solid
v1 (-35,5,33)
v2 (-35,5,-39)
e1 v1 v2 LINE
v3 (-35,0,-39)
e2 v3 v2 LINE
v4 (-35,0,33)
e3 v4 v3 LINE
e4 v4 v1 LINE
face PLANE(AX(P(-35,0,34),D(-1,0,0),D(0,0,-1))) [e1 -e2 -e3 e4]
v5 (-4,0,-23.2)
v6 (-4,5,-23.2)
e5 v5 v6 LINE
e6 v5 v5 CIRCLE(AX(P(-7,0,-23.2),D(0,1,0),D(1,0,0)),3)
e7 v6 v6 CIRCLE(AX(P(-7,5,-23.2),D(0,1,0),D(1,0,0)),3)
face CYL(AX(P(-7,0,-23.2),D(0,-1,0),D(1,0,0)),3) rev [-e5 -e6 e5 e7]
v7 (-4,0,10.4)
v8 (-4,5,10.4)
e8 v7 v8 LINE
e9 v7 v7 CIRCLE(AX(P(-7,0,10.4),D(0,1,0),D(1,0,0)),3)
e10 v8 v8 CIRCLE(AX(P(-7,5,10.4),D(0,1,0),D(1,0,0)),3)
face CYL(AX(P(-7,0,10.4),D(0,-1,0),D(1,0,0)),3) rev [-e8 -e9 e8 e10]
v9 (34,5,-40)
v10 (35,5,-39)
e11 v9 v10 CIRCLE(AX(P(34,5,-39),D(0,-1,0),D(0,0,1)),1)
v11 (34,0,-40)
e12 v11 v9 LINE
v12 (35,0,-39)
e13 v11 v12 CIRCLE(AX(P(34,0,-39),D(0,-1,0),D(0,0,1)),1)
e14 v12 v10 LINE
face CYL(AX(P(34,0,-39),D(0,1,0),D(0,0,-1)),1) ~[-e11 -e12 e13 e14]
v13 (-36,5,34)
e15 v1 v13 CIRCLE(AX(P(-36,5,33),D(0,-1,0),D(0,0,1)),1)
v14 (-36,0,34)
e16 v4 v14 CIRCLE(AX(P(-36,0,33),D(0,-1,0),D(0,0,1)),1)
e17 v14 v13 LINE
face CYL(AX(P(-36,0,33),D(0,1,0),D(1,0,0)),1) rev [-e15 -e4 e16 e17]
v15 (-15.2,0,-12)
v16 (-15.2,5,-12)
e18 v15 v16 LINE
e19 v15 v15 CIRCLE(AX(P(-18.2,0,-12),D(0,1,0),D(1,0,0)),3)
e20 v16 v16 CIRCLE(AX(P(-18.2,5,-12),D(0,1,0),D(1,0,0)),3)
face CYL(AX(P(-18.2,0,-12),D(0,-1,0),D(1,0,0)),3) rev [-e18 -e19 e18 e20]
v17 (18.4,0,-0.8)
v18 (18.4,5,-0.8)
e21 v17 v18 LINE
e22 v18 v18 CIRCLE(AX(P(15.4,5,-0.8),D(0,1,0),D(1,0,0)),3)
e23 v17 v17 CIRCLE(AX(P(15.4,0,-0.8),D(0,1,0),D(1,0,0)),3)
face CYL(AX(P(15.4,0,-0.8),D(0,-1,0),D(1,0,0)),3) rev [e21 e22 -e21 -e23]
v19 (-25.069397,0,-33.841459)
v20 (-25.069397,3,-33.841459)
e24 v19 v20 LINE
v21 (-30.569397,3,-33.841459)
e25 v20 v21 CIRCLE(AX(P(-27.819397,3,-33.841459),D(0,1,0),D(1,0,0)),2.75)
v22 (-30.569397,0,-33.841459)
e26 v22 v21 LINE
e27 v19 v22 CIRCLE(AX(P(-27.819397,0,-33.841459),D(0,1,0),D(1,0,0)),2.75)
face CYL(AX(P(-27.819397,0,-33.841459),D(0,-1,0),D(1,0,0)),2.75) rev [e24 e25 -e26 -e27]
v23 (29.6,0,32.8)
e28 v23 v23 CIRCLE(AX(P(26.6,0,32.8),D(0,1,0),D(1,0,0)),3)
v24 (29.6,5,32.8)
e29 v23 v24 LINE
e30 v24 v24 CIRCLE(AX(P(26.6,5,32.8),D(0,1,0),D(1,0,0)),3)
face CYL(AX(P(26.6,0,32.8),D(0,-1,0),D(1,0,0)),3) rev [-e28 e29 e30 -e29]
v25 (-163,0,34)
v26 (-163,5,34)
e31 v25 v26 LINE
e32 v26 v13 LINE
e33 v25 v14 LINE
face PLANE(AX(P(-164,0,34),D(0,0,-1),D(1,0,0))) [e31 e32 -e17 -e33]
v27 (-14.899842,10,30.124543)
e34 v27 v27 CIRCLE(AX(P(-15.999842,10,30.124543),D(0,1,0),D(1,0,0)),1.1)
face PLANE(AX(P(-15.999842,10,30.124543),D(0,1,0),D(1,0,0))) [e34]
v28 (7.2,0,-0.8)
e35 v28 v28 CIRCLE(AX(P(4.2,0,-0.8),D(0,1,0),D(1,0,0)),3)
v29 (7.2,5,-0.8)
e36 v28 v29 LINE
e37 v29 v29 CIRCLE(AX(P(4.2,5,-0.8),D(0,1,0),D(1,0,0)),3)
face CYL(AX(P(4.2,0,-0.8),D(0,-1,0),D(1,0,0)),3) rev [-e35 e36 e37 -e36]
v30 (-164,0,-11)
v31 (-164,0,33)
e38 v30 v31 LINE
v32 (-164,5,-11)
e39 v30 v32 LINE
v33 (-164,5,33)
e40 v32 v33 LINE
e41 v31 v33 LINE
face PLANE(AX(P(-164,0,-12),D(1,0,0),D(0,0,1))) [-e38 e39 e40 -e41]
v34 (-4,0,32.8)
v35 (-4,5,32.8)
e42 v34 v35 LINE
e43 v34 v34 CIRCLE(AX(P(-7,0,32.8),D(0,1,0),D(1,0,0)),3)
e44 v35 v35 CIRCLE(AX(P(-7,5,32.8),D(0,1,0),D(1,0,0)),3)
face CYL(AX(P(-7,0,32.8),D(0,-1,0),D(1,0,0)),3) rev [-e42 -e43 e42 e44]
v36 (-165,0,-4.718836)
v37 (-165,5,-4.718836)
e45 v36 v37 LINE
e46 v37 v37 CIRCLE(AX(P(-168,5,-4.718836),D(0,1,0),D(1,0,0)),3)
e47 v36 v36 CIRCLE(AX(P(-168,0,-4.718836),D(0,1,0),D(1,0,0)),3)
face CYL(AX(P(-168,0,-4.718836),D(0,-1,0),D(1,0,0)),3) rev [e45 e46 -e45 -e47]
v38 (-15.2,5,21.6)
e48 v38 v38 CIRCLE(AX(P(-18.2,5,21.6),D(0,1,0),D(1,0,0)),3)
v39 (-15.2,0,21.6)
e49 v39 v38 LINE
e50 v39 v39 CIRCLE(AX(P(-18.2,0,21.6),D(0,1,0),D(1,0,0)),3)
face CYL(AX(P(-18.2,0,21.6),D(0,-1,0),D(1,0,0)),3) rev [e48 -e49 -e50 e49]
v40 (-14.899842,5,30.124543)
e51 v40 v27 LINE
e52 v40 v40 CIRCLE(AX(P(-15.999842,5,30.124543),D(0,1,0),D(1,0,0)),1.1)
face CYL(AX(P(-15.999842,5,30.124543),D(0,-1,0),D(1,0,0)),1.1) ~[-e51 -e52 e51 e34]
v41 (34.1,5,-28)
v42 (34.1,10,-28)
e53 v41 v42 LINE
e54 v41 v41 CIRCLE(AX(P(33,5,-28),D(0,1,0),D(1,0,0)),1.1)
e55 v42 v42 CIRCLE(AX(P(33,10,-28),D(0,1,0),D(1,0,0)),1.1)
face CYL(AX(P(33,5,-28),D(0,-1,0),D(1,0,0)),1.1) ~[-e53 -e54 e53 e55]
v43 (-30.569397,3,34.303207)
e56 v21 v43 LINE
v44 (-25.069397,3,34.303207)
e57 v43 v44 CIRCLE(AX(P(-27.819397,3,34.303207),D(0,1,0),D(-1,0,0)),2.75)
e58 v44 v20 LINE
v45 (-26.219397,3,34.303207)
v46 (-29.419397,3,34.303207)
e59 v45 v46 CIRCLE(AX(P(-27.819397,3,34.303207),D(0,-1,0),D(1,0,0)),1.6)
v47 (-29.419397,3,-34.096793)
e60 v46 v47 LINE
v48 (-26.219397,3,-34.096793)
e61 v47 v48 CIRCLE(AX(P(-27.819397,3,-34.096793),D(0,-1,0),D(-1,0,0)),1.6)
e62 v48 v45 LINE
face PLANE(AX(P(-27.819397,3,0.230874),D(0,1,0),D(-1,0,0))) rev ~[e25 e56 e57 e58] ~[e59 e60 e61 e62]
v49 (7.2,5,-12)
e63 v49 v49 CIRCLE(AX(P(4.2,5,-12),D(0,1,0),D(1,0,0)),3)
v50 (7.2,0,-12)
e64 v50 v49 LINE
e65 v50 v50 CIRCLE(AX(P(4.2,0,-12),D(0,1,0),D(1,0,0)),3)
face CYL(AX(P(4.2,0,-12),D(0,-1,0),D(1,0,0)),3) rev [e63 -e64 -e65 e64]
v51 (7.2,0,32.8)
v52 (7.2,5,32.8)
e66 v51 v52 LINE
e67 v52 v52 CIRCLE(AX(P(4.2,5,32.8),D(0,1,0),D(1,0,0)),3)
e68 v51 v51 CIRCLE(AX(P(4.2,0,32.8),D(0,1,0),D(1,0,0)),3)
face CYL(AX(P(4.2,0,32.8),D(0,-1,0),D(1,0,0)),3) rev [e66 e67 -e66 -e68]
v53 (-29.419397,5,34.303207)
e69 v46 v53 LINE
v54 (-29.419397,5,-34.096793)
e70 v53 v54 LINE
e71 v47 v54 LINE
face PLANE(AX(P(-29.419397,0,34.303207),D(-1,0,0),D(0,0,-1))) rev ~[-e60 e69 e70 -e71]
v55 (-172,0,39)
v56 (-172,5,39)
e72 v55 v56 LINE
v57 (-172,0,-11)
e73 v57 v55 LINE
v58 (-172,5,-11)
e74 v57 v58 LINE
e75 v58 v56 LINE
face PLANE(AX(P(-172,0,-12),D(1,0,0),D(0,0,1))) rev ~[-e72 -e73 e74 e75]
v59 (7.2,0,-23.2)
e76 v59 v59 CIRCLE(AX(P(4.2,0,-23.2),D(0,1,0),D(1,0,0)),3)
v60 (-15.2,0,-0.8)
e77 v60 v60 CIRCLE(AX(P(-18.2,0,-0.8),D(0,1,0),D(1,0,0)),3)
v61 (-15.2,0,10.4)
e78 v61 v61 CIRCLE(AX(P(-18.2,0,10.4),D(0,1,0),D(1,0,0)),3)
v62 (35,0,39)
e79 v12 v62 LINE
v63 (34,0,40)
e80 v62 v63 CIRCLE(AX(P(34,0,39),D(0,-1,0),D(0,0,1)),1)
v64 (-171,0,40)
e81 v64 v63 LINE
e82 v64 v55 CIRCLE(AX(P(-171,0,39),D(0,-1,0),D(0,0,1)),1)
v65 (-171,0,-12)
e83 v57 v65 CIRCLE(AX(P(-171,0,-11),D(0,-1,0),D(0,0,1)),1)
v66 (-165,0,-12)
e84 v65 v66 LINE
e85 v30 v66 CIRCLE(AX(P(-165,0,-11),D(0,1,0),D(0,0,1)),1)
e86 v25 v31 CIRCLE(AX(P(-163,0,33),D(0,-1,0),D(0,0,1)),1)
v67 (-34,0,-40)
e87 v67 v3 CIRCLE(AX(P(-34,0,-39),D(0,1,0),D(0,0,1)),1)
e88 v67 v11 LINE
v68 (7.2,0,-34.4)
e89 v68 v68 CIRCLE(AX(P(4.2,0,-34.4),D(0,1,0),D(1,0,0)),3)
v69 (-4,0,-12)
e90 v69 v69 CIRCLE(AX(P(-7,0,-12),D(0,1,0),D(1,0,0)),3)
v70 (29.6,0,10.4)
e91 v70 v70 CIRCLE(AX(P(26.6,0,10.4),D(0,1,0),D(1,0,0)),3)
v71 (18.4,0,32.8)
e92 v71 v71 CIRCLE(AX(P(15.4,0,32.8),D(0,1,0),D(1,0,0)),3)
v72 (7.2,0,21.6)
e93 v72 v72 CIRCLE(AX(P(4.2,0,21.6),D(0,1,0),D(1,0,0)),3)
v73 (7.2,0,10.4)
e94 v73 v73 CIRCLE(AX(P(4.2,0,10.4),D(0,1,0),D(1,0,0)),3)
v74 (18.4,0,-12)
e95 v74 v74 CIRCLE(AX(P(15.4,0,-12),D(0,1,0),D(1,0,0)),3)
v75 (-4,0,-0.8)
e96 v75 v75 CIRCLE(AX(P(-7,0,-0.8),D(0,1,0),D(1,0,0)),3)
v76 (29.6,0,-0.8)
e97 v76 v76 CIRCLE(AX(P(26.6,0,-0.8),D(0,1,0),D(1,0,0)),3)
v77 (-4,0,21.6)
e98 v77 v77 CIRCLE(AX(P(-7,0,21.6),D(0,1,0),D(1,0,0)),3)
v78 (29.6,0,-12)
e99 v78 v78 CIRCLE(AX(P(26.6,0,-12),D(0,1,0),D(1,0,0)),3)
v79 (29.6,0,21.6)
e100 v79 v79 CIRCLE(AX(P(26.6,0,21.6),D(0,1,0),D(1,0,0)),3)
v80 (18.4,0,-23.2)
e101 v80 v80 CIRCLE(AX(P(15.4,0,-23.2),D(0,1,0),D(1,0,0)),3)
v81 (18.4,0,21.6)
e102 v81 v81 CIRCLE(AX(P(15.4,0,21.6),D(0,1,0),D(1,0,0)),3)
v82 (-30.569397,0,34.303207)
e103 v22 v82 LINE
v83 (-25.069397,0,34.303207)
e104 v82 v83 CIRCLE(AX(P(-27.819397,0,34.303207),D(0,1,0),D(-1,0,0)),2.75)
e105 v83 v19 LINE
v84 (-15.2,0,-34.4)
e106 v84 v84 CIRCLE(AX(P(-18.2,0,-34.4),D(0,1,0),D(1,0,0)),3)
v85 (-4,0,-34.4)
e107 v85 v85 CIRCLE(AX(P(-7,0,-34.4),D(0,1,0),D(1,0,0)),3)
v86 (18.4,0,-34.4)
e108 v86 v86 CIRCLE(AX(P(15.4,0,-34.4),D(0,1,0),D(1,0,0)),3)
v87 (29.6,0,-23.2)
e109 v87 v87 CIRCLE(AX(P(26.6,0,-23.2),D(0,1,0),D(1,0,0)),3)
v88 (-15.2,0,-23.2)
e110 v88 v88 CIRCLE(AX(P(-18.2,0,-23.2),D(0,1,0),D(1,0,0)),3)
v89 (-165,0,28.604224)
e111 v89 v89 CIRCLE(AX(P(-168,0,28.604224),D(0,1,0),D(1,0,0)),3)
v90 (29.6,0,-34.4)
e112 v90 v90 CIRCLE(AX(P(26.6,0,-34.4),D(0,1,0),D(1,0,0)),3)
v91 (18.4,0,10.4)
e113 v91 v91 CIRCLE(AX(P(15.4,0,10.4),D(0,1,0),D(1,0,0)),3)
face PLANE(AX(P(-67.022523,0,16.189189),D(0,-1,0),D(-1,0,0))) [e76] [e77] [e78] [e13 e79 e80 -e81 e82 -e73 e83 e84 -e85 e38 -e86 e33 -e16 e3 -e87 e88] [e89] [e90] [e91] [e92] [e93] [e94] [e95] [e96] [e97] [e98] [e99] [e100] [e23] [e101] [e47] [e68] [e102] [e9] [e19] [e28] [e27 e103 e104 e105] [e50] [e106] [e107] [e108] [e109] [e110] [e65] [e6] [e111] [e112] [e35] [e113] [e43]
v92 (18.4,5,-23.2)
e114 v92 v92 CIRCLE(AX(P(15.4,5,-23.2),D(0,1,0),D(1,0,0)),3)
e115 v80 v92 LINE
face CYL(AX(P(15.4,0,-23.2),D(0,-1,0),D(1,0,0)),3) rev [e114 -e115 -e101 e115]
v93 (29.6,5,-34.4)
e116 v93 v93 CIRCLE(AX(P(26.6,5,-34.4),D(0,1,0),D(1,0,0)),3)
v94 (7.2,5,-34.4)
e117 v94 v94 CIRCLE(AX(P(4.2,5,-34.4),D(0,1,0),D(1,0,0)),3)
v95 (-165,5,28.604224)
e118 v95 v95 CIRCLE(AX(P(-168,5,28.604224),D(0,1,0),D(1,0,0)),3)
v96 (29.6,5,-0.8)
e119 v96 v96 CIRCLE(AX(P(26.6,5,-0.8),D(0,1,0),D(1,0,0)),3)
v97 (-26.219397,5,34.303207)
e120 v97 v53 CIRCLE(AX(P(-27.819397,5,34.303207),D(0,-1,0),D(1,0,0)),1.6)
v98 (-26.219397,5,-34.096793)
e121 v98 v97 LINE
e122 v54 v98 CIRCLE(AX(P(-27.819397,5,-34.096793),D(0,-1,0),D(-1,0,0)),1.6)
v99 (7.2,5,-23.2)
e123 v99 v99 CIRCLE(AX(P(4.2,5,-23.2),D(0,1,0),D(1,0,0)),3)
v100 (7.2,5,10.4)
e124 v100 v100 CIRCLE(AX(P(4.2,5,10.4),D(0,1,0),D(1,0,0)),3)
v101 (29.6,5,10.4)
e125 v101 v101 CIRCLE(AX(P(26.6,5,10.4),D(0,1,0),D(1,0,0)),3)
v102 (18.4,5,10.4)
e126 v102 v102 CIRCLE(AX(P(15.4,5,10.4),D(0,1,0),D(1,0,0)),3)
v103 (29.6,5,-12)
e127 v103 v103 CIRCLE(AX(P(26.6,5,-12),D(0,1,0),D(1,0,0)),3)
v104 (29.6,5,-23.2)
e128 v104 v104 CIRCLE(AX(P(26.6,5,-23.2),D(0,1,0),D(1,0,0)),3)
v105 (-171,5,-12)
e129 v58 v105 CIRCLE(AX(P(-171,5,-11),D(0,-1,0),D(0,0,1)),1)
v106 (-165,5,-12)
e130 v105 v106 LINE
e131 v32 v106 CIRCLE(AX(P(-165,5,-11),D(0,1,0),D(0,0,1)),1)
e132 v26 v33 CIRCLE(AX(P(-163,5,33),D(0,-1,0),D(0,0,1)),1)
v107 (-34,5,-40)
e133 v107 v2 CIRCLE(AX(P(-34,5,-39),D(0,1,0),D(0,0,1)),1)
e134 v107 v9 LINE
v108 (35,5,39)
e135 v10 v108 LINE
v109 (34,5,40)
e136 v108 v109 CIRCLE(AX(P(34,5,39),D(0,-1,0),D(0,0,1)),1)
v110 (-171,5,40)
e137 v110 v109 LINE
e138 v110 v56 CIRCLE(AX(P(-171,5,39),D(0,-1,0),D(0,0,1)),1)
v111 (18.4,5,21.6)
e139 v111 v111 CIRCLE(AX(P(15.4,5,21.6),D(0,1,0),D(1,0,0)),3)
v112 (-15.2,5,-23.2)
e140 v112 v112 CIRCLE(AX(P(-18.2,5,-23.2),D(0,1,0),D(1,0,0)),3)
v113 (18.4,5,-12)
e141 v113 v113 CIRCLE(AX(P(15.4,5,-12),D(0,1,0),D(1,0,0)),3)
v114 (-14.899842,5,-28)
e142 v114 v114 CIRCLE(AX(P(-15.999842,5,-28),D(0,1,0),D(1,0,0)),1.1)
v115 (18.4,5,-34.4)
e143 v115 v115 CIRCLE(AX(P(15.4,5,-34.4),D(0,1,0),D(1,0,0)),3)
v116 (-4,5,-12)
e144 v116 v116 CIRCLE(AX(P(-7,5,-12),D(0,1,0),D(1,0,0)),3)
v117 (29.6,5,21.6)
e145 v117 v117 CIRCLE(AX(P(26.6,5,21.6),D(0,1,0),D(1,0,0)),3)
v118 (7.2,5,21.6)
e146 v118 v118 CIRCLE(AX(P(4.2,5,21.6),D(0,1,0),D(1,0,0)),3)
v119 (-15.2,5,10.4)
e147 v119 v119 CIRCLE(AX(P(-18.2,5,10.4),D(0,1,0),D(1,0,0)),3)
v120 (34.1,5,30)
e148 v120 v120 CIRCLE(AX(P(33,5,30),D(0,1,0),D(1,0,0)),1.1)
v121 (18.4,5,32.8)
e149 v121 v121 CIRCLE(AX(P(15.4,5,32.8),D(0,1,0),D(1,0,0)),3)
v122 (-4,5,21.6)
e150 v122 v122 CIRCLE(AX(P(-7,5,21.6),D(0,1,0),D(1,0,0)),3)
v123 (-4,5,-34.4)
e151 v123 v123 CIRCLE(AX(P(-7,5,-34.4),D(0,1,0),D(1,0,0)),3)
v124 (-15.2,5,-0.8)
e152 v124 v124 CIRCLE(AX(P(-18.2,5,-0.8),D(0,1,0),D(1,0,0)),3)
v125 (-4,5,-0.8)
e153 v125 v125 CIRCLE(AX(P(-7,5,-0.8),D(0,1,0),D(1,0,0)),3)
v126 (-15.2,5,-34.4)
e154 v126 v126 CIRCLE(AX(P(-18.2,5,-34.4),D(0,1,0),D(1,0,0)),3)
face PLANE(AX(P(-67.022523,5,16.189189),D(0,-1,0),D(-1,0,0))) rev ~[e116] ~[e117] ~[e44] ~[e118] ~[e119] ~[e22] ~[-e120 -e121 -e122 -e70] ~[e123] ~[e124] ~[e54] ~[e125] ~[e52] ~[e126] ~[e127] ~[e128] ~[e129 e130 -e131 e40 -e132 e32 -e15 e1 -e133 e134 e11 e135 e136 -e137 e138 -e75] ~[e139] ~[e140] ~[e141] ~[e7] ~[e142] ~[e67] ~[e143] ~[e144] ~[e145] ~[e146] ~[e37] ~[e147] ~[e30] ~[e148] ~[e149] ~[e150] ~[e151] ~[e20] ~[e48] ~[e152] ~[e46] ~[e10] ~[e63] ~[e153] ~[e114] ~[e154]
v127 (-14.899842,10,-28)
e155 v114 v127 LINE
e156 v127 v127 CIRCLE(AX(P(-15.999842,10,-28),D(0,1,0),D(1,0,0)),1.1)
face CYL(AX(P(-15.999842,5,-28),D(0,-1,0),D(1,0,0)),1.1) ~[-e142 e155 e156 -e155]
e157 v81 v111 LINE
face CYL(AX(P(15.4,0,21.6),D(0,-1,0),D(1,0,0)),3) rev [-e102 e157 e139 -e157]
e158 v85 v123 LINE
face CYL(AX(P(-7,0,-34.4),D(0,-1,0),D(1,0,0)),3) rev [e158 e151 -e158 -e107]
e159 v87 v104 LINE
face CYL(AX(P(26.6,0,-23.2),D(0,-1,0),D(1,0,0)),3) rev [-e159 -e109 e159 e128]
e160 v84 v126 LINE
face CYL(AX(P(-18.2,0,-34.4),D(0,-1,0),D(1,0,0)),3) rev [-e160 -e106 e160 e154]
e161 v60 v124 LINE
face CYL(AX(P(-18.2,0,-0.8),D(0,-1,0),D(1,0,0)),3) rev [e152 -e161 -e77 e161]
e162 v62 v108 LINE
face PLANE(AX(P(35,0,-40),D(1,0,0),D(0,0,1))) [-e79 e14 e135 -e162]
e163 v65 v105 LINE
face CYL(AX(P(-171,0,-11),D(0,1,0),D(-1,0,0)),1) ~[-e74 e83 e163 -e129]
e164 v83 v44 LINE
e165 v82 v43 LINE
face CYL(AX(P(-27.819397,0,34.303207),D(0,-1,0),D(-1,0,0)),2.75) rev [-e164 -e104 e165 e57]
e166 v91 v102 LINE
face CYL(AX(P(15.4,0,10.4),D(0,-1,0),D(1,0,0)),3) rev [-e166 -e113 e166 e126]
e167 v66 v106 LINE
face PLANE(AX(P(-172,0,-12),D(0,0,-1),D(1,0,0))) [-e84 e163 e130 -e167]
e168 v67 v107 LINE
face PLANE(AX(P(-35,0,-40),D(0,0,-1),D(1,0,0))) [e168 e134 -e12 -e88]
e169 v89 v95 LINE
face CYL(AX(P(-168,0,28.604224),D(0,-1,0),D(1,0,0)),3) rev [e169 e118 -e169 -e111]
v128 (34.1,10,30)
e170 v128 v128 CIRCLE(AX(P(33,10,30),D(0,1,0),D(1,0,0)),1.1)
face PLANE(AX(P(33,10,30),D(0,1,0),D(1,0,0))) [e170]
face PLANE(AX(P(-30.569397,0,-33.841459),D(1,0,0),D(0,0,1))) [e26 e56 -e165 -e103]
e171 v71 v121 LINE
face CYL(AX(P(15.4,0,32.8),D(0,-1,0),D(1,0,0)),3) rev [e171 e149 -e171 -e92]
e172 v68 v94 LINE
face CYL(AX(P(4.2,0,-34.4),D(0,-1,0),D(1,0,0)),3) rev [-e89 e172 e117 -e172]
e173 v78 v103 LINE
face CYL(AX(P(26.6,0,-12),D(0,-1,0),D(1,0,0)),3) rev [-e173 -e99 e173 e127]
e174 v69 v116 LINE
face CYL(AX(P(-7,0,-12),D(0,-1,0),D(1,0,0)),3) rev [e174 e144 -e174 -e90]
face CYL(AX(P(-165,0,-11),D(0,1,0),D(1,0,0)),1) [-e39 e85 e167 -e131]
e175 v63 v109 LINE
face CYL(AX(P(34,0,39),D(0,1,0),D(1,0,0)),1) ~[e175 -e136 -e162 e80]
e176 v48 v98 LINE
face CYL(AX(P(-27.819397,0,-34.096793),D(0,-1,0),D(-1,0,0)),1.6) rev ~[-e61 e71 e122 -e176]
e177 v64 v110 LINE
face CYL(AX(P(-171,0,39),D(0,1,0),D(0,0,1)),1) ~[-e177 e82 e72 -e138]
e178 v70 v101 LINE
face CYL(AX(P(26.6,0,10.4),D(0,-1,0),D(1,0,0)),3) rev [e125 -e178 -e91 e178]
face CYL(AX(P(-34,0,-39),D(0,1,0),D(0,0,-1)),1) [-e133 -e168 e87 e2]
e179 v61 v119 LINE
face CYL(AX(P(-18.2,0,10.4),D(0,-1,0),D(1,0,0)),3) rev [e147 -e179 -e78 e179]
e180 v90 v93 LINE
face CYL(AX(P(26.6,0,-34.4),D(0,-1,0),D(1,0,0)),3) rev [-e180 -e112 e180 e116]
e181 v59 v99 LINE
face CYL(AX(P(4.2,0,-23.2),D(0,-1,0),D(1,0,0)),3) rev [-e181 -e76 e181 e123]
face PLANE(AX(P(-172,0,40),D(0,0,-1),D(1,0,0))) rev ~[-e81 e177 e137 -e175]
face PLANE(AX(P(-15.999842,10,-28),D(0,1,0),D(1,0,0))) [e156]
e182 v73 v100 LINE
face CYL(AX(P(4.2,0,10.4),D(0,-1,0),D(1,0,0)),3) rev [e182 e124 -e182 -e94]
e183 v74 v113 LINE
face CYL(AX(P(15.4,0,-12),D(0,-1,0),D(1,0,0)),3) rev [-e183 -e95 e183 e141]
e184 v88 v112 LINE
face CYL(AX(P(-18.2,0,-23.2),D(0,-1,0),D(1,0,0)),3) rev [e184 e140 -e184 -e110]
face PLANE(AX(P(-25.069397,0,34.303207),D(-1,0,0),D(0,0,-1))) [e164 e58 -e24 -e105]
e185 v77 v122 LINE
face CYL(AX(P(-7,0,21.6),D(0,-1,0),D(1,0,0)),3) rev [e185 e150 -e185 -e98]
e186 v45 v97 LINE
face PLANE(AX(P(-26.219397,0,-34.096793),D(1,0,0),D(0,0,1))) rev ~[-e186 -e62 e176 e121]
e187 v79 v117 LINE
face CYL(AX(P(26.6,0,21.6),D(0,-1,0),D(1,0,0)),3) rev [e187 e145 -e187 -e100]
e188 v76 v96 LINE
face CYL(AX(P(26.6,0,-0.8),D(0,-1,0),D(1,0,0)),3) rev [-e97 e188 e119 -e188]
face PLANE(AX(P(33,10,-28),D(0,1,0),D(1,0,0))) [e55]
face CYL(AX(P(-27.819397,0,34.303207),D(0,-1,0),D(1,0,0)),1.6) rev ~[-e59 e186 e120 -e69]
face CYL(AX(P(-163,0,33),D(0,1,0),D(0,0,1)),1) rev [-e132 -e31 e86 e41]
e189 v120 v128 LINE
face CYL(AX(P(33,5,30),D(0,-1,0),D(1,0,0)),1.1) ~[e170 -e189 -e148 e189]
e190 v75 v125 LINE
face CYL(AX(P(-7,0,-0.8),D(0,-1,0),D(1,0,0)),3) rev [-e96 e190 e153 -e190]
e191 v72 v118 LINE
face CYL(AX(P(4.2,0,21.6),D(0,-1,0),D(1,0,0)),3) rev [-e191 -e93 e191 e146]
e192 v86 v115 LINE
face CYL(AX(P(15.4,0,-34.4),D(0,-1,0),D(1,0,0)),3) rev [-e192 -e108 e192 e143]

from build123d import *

# Parameters (mm, degrees)
SKETCH1_R           = 3
BOSS_EXTRUDE2_DEPTH = 5
SKETCH2_R           = 1.1
BOSS_EXTRUDE3_DEPTH = 5
FILLET1_R           = 1
CUT_EXTRUDE1_DEPTH  = 3


with BuildPart() as part:
    # Sketch1 → Boss-Extrude2 (new body)
    with BuildSketch(Plane(origin=(0, 0, 0), x_dir=(1, 0, 0), z_dir=(0, 1, 0))):
        Polygon((-35, 40), (35, 40), (35, -40), (-35, -40), (-172, -40), (-172, -34), (-172, 12), (-164, 12), (-164, -34), (-35, -34), align=None)
        with Locations((-18.2, 34.4)):
            Circle(SKETCH1_R, mode=Mode.SUBTRACT)
        with Locations((-7, 34.4)):
            Circle(SKETCH1_R, mode=Mode.SUBTRACT)
        with Locations((4.2, 34.4)):
            Circle(SKETCH1_R, mode=Mode.SUBTRACT)
        with Locations((15.4, 34.4)):
            Circle(SKETCH1_R, mode=Mode.SUBTRACT)
        with Locations((26.6, 34.4)):
            Circle(SKETCH1_R, mode=Mode.SUBTRACT)
        with Locations((-18.2, 23.2)):
            Circle(SKETCH1_R, mode=Mode.SUBTRACT)
        with Locations((-7, 23.2)):
            Circle(SKETCH1_R, mode=Mode.SUBTRACT)
        with Locations((4.2, 23.2)):
            Circle(SKETCH1_R, mode=Mode.SUBTRACT)
        with Locations((15.4, 23.2)):
            Circle(SKETCH1_R, mode=Mode.SUBTRACT)
        with Locations((26.6, 23.2)):
            Circle(SKETCH1_R, mode=Mode.SUBTRACT)
        with Locations((-18.2, 12)):
            Circle(SKETCH1_R, mode=Mode.SUBTRACT)
        with Locations((-7, 12)):
            Circle(SKETCH1_R, mode=Mode.SUBTRACT)
        with Locations((4.2, 12)):
            Circle(SKETCH1_R, mode=Mode.SUBTRACT)
        with Locations((15.4, 12)):
            Circle(SKETCH1_R, mode=Mode.SUBTRACT)
        with Locations((26.6, 12)):
            Circle(SKETCH1_R, mode=Mode.SUBTRACT)
        with Locations((-18.2, 0.8)):
            Circle(SKETCH1_R, mode=Mode.SUBTRACT)
        with Locations((-7, 0.8)):
            Circle(SKETCH1_R, mode=Mode.SUBTRACT)
        with Locations((4.2, 0.8)):
            Circle(SKETCH1_R, mode=Mode.SUBTRACT)
        with Locations((15.4, 0.8)):
            Circle(SKETCH1_R, mode=Mode.SUBTRACT)
        with Locations((26.6, 0.8)):
            Circle(SKETCH1_R, mode=Mode.SUBTRACT)
        with Locations((-18.2, -10.4)):
            Circle(SKETCH1_R, mode=Mode.SUBTRACT)
        with Locations((-7, -10.4)):
            Circle(SKETCH1_R, mode=Mode.SUBTRACT)
        with Locations((4.2, -10.4)):
            Circle(SKETCH1_R, mode=Mode.SUBTRACT)
        with Locations((15.4, -10.4)):
            Circle(SKETCH1_R, mode=Mode.SUBTRACT)
        with Locations((26.6, -10.4)):
            Circle(SKETCH1_R, mode=Mode.SUBTRACT)
        with Locations((-18.2, -21.6)):
            Circle(SKETCH1_R, mode=Mode.SUBTRACT)
        with Locations((-7, -21.6)):
            Circle(SKETCH1_R, mode=Mode.SUBTRACT)
        with Locations((4.2, -21.6)):
            Circle(SKETCH1_R, mode=Mode.SUBTRACT)
        with Locations((15.4, -21.6)):
            Circle(SKETCH1_R, mode=Mode.SUBTRACT)
        with Locations((26.6, -21.6)):
            Circle(SKETCH1_R, mode=Mode.SUBTRACT)
        with Locations((-7, -32.8)):
            Circle(SKETCH1_R, mode=Mode.SUBTRACT)
        with Locations((4.2, -32.8)):
            Circle(SKETCH1_R, mode=Mode.SUBTRACT)
        with Locations((15.4, -32.8)):
            Circle(SKETCH1_R, mode=Mode.SUBTRACT)
        with Locations((26.6, -32.8)):
            Circle(SKETCH1_R, mode=Mode.SUBTRACT)
        with Locations((-168, 4.718835642)):
            Circle(SKETCH1_R, mode=Mode.SUBTRACT)
        with Locations((-168, -28.604223743)):
            Circle(SKETCH1_R, mode=Mode.SUBTRACT)
        with BuildLine():
            Line((-26.219397272, 34.096793065), (-26.219397272, -34.303206935))
            ThreePointArc((-26.219397272, -34.303206935), (-27.819397272, -35.903206935), (-29.419397272, -34.303206935))
            Line((-29.419397272, -34.303206935), (-29.419397272, 34.096793065))
            ThreePointArc((-29.419397272, 34.096793065), (-27.819397272, 35.696793065), (-26.219397272, 34.096793065))
        make_face(mode=Mode.SUBTRACT)
    extrude(amount=BOSS_EXTRUDE2_DEPTH)

    # Sketch2 → Boss-Extrude3 (add)
    with BuildSketch(Plane(origin=(0, 5, 0), x_dir=(1, 0, 0), z_dir=(0, 1, 0))):
        with Locations((33, -30)):
            Circle(SKETCH2_R)
        with Locations((-15.999841725, -30.124542974)):
            Circle(SKETCH2_R)
        with Locations((-15.999841725, 28)):
            Circle(SKETCH2_R)
        with Locations((33, 28)):
            Circle(SKETCH2_R)
    extrude(amount=BOSS_EXTRUDE3_DEPTH)

    # Fillet1
    fillet1_edges = [part.edges().sort_by_distance(p)[0] for p in [
        (35, 2.5, 40),
        (-172, 2.5, 40),
        (-172, 2.5, -12),
        (-164, 2.5, -12),
        (-164, 2.5, 34),
        (-35, 2.5, 34),
        (-35, 2.5, -40),
        (35, 2.5, -40),
    ]]
    fillet(fillet1_edges, radius=FILLET1_R)

    # Sketch5 → Cut-Extrude1 (cut)
    with BuildSketch(Plane.XZ):
        with BuildLine():
            Line((-25.069397272, 34.303206935), (-25.069397272, -33.841459302))
            ThreePointArc((-25.069397272, -33.841459302), (-27.819397272, -36.591459302), (-30.569397272, -33.841459302))
            Line((-30.569397272, -33.841459302), (-30.569397272, 34.303206935))
            ThreePointArc((-30.569397272, 34.303206935), (-27.819397272, 37.053206935), (-25.069397272, 34.303206935))
        make_face()
    extrude(amount=-CUT_EXTRUDE1_DEPTH, mode=Mode.SUBTRACT)


solid = part.part
